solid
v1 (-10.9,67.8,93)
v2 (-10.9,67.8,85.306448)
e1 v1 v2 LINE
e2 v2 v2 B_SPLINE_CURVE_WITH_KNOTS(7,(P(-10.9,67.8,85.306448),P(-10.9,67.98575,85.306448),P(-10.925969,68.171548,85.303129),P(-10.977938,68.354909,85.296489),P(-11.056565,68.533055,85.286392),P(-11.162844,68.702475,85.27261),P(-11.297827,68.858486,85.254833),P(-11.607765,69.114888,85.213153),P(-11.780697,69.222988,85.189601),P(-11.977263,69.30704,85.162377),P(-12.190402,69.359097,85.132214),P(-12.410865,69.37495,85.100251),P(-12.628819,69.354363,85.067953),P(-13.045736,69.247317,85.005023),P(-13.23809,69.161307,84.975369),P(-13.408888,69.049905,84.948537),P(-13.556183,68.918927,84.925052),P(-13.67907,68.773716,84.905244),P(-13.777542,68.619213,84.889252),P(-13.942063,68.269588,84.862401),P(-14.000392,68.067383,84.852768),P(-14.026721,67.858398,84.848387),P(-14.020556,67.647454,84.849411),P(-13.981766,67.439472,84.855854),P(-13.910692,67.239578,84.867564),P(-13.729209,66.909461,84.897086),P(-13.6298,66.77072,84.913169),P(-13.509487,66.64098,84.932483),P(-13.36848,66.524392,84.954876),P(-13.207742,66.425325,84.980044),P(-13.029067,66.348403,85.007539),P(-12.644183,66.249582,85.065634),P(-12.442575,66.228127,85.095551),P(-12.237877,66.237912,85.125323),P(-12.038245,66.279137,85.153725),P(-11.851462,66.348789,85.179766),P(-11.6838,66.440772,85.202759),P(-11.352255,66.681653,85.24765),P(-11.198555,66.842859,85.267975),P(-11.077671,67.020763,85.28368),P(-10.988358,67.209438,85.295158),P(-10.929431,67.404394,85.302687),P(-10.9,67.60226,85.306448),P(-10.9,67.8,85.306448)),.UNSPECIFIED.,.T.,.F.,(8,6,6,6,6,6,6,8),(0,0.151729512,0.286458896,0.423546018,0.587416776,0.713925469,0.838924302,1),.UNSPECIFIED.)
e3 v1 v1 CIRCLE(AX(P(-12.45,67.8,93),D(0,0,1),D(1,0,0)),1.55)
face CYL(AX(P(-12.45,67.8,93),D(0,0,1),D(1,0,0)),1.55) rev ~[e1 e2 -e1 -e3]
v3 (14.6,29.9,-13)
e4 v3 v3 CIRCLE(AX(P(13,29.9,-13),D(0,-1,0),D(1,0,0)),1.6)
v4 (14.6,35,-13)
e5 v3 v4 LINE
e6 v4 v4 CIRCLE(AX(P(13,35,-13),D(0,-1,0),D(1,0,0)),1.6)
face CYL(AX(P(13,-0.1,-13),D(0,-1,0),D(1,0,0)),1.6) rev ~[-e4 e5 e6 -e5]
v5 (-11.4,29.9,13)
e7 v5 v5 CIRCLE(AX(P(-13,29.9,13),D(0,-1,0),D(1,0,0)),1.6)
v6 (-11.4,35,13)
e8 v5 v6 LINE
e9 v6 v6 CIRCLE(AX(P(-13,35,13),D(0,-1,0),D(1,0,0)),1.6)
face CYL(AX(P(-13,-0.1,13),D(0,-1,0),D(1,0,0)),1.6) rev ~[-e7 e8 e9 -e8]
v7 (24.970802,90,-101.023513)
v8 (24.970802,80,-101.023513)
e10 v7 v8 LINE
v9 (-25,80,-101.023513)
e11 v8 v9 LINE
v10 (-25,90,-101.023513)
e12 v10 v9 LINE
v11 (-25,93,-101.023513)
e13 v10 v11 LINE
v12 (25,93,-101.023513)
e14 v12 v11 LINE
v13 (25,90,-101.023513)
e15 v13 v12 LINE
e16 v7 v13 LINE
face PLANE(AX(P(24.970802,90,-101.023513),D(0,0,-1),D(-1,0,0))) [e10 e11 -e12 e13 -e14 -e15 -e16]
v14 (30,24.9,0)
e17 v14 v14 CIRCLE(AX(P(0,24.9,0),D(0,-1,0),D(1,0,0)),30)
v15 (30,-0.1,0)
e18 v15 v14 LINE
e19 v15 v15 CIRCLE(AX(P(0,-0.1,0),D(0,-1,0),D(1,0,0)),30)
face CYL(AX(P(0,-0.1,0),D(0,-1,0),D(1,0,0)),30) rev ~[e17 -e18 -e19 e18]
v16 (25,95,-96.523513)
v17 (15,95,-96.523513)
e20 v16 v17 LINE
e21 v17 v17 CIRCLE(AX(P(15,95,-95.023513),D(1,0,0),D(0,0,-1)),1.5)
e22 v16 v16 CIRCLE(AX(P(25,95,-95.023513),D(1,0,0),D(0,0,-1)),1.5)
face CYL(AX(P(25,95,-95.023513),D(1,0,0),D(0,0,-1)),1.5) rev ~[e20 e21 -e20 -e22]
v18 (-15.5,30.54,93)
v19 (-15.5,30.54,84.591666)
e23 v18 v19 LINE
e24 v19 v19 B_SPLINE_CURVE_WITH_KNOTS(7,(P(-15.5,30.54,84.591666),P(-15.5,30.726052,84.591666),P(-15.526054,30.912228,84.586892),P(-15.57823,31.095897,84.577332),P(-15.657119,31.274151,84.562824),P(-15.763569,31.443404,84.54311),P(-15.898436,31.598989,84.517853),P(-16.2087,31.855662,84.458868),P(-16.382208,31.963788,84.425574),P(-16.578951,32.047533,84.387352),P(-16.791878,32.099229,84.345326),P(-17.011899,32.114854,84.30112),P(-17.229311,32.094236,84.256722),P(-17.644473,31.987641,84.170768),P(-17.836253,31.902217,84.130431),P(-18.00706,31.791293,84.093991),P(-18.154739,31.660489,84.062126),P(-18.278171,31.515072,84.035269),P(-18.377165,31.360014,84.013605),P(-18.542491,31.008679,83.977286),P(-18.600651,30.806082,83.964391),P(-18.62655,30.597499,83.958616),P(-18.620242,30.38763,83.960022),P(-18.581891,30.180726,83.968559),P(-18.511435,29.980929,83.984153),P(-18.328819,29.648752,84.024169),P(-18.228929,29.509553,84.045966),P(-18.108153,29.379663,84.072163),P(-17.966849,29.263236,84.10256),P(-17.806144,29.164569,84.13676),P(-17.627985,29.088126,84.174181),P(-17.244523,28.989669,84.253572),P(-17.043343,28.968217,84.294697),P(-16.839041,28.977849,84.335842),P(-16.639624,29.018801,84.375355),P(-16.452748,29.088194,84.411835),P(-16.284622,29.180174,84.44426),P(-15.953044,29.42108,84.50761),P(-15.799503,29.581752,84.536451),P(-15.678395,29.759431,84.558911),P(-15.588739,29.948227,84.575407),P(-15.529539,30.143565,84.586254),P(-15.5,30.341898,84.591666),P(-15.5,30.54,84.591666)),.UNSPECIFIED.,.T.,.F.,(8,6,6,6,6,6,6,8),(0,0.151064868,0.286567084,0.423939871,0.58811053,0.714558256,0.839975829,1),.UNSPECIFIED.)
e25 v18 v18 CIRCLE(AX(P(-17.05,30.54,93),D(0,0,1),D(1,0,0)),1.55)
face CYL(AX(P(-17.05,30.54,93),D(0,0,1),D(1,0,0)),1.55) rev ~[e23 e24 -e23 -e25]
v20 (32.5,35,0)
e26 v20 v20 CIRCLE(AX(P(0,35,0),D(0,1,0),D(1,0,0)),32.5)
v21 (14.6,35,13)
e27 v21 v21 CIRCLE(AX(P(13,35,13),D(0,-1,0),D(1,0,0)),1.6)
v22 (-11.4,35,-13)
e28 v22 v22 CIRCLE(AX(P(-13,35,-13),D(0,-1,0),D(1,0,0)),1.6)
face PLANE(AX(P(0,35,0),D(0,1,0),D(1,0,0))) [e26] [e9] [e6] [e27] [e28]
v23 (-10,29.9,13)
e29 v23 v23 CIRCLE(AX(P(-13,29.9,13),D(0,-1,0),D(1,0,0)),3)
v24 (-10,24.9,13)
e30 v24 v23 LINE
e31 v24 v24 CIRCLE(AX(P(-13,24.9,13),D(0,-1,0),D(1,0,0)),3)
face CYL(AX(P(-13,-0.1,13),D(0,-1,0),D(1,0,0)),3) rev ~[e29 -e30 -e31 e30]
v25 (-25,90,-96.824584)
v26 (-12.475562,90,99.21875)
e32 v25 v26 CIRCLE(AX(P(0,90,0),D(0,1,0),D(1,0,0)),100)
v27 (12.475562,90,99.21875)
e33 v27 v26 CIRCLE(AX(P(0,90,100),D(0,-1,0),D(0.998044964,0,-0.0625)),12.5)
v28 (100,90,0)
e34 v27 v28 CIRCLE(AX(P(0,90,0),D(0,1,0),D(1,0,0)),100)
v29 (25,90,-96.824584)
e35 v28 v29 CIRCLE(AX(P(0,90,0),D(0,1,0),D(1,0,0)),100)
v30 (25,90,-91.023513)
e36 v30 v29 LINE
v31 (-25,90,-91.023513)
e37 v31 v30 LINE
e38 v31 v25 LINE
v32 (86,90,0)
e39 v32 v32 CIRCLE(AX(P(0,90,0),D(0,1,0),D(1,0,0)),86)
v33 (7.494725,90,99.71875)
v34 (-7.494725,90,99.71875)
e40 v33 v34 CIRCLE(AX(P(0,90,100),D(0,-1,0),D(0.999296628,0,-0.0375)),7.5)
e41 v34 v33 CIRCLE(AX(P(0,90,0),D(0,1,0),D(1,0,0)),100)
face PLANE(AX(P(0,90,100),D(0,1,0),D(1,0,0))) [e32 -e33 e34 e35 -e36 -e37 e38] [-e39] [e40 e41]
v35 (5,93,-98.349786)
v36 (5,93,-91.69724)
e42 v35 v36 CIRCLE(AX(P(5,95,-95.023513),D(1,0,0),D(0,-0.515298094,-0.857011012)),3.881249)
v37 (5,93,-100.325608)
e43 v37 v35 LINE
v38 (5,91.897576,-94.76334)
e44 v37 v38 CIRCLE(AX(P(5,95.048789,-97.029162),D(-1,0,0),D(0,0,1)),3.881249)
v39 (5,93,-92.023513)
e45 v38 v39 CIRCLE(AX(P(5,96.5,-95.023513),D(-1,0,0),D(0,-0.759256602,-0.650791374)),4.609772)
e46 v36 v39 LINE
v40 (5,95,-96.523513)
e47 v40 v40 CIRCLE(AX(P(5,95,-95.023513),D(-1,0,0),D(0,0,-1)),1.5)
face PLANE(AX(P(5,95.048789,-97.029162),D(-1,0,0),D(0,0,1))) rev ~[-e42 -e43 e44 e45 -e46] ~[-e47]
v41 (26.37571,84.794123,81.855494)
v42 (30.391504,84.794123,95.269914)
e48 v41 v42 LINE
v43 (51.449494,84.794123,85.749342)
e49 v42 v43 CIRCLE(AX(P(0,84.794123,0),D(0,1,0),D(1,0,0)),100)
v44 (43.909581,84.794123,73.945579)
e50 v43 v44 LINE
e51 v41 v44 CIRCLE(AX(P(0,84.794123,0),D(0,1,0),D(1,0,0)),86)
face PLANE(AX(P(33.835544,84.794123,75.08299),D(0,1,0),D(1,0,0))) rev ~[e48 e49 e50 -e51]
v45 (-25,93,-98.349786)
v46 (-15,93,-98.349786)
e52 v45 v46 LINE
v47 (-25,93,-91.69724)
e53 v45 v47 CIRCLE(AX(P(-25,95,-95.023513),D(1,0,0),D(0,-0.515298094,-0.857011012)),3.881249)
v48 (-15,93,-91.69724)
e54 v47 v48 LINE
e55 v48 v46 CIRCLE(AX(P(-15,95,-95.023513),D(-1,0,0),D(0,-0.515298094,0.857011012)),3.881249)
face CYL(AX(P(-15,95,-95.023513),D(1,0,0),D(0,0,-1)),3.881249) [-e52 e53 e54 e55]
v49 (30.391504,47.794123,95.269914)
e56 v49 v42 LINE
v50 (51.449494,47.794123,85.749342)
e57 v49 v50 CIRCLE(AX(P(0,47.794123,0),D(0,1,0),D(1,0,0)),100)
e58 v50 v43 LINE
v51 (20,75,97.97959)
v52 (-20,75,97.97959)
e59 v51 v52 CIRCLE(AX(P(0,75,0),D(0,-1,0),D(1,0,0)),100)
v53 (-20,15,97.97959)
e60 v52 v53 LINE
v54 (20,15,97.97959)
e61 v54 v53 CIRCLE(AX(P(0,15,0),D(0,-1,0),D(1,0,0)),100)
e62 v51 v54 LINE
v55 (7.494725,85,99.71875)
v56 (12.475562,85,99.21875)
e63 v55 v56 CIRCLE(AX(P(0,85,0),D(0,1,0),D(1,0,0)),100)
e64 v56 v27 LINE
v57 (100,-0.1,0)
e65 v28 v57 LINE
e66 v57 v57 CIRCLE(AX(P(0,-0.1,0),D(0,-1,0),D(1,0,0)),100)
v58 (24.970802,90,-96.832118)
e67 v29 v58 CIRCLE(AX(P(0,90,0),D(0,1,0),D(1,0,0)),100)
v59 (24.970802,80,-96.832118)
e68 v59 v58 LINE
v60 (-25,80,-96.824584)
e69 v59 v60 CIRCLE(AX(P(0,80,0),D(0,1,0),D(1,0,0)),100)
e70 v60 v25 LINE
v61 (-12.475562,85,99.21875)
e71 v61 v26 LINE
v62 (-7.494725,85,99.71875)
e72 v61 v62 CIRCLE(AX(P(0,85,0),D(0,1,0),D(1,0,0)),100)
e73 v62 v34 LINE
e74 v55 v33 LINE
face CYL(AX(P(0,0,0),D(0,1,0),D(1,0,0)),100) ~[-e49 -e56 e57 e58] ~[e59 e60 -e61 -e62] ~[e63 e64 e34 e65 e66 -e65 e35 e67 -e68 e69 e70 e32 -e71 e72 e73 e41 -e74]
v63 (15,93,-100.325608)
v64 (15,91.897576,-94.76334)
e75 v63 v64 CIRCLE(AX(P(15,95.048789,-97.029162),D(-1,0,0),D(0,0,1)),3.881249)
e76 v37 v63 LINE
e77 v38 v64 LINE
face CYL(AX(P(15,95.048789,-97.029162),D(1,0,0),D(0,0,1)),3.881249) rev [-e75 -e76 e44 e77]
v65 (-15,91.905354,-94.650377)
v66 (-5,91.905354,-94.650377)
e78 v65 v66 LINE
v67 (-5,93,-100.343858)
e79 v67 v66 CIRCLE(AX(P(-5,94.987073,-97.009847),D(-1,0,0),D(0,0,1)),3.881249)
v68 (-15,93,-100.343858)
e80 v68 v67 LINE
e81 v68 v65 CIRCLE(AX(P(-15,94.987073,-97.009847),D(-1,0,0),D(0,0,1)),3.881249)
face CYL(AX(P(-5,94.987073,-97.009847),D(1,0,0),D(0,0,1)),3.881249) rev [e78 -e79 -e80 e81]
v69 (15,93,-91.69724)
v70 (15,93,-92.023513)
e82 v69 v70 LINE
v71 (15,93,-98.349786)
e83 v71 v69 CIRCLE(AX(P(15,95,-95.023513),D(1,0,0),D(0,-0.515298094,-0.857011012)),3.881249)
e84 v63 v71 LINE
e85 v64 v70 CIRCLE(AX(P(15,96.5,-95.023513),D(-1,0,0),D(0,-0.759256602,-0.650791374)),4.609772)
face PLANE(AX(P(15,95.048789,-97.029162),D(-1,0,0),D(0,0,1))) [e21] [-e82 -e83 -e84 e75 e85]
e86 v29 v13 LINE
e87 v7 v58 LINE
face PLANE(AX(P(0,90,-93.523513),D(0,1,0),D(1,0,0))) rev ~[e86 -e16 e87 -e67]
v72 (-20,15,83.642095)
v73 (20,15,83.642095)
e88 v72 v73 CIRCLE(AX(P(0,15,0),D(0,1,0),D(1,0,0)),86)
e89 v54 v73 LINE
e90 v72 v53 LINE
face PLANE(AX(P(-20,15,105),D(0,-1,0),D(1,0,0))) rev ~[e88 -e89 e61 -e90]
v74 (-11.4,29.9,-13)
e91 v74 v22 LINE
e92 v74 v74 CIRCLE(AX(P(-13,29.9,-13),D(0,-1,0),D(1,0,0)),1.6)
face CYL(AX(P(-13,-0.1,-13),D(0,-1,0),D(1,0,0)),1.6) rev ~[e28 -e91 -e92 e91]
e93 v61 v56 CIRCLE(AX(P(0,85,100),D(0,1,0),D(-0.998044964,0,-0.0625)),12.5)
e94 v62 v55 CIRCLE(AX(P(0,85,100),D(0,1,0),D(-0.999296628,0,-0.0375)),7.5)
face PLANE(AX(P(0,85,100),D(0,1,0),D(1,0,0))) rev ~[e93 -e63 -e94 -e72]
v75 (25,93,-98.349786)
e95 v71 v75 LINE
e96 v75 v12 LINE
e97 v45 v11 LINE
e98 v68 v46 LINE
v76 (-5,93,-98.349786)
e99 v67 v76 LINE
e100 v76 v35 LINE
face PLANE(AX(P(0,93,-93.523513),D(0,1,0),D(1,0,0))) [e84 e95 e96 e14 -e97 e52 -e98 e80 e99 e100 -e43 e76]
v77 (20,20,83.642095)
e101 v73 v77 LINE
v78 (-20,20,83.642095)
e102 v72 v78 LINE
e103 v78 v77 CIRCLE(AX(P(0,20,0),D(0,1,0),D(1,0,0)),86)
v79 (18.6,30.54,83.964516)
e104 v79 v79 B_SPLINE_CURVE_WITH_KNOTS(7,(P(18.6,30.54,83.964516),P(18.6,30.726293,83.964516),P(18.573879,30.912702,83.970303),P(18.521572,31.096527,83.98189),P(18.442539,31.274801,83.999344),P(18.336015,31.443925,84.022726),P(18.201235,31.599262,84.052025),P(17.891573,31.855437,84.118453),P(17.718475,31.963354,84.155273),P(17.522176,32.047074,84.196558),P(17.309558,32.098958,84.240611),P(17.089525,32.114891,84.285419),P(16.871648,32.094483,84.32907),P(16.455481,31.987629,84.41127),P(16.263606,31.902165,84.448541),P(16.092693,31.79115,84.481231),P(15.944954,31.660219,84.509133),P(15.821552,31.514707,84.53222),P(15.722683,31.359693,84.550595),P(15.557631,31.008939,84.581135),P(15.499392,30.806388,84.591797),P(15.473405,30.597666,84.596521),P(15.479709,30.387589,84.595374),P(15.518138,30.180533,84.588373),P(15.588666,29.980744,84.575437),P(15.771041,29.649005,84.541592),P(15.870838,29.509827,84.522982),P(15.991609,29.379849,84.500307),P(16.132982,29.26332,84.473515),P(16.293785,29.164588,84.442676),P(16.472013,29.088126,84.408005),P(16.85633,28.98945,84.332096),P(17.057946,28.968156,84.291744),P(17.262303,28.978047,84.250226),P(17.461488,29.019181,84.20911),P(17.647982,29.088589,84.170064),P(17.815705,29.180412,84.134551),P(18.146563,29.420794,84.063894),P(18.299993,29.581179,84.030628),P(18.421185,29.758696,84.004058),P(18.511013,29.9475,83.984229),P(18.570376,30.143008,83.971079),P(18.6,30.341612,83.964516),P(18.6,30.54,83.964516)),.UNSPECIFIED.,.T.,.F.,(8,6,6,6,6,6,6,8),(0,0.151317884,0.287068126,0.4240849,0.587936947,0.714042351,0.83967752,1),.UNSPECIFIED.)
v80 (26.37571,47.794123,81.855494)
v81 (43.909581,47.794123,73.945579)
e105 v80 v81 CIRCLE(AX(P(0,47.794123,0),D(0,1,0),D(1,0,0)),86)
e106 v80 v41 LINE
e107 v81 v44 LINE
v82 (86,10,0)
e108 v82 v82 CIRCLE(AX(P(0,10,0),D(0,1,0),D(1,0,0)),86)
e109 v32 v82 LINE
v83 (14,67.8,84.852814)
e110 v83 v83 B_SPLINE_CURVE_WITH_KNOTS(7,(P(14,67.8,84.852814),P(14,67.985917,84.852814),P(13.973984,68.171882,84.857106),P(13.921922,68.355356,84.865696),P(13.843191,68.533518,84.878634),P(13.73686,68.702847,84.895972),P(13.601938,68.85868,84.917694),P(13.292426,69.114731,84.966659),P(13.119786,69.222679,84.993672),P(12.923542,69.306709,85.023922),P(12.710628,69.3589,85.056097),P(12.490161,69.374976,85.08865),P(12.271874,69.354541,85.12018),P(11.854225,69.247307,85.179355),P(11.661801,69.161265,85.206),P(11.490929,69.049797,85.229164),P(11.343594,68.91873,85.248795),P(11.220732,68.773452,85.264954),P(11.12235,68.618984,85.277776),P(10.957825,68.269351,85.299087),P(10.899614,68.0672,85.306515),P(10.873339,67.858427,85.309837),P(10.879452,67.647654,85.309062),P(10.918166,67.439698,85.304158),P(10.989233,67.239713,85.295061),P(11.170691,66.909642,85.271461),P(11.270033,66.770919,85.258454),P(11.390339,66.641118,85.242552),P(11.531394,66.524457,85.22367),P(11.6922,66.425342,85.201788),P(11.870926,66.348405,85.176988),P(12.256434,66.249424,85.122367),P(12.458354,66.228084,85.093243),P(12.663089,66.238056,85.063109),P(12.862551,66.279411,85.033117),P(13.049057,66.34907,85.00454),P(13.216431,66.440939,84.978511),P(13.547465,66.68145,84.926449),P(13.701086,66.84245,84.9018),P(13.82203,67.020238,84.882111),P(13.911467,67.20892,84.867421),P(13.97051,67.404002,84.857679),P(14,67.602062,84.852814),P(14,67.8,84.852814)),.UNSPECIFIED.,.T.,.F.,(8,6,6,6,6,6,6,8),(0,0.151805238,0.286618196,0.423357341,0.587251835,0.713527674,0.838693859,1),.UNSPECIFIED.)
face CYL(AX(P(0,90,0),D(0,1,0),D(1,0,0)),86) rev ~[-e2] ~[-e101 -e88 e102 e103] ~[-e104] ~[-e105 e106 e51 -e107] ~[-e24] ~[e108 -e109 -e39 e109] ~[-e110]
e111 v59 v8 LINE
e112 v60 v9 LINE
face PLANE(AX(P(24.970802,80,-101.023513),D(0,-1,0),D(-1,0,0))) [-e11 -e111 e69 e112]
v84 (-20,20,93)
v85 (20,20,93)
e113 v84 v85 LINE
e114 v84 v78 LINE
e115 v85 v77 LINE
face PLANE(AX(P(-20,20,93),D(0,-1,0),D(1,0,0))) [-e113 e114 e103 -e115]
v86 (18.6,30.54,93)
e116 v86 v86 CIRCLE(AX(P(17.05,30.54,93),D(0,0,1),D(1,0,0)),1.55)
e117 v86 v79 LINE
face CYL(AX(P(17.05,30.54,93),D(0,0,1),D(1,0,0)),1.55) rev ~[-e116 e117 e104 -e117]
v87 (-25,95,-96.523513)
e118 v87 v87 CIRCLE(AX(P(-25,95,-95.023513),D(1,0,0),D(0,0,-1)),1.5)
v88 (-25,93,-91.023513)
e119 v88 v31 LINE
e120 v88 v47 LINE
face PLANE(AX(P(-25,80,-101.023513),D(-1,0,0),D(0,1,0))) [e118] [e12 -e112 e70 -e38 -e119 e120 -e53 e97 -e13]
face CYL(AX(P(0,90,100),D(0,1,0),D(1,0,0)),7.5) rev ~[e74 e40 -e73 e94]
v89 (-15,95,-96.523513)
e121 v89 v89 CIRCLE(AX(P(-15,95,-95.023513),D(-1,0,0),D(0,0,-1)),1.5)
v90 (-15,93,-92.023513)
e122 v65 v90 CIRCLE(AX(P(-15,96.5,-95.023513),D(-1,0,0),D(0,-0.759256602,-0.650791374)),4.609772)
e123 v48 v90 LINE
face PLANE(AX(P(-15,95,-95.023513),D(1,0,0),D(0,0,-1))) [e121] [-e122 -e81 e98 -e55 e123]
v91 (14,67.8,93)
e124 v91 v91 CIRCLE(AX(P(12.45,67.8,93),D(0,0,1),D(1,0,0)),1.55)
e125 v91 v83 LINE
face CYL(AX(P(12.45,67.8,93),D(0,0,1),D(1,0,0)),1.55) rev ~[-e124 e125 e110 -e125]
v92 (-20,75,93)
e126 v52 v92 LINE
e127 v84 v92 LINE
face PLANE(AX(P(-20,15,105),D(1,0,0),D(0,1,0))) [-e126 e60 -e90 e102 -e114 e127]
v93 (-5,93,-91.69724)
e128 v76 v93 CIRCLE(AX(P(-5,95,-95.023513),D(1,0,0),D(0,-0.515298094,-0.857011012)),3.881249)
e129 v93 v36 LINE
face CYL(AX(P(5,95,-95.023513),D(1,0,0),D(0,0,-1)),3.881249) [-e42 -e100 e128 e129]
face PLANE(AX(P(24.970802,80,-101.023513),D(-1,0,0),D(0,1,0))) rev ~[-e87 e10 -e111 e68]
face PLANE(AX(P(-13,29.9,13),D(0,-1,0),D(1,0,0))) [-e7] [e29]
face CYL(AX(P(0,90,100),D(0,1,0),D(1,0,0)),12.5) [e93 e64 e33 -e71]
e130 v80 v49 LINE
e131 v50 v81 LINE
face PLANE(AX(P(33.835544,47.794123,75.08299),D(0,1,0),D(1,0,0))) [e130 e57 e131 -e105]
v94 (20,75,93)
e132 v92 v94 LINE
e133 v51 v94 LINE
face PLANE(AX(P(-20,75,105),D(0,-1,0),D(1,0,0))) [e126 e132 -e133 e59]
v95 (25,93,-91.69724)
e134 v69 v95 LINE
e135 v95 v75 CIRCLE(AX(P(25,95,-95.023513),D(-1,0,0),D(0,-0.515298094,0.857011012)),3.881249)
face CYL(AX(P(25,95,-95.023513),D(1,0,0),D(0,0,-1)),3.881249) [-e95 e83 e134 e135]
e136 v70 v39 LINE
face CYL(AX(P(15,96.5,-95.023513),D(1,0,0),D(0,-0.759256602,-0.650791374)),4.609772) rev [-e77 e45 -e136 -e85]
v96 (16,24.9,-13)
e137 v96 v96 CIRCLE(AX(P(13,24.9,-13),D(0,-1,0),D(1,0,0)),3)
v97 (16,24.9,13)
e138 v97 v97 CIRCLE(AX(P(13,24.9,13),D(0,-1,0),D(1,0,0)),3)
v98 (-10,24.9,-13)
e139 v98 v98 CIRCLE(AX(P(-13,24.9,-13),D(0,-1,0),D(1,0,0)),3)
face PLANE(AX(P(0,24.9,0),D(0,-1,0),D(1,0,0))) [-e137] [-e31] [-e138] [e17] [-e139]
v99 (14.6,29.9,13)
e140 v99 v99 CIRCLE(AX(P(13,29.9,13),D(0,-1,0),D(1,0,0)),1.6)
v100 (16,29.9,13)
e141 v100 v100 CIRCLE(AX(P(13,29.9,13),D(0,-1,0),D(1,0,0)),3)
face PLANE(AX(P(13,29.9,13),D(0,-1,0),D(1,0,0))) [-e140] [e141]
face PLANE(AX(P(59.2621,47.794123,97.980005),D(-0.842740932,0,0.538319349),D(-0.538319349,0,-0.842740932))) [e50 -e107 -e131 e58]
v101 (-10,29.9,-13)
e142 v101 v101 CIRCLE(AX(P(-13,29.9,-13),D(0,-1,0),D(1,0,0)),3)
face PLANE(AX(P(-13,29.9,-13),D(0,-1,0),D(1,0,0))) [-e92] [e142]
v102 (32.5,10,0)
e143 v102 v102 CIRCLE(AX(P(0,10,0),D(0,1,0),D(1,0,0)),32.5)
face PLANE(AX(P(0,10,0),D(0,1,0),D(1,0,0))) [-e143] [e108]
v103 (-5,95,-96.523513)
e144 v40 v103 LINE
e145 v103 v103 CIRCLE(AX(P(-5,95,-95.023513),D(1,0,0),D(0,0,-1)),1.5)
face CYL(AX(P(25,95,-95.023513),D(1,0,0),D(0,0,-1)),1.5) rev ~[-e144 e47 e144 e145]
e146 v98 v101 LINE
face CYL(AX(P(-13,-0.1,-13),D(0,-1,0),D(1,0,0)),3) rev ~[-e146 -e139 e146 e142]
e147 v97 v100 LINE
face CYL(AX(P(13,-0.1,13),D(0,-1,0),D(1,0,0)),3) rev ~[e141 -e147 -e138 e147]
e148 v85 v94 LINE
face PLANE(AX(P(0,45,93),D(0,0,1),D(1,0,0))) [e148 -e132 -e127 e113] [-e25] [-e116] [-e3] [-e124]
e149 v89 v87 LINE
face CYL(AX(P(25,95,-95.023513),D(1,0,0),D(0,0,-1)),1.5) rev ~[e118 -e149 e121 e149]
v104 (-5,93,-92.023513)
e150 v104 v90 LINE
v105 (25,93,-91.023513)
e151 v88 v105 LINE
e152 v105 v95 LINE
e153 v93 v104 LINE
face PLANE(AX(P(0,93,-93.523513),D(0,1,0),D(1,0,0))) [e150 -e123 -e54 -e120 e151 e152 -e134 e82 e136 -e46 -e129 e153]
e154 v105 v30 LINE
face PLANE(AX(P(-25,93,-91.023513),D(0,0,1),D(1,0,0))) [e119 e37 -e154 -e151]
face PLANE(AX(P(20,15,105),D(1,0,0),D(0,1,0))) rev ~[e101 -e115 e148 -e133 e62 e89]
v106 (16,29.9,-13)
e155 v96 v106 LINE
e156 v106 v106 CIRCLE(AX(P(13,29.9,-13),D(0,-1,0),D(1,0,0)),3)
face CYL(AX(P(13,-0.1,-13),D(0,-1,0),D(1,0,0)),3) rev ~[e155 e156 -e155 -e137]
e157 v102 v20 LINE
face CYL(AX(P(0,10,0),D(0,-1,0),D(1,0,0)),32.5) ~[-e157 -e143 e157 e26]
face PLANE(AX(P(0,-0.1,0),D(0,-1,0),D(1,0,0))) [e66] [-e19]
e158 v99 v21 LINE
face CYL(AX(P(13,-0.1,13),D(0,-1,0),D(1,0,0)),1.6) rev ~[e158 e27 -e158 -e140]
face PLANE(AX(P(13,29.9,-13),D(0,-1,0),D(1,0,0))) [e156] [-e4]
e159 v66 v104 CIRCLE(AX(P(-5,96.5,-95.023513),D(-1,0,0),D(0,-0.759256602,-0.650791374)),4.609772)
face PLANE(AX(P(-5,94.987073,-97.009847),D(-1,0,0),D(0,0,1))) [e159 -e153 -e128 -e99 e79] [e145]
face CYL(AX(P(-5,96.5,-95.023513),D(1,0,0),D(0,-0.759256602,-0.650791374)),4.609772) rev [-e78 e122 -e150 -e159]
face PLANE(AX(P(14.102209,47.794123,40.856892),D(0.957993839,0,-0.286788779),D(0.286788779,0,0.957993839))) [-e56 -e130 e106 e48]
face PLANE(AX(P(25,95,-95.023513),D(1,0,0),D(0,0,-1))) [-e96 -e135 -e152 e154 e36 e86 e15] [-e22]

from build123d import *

# Parameters (mm, degrees)
SKETCH1_R               = 100
BOSS_EXTRUDE3_DEPTH     = 90
SKETCH4_W               = 40
SKETCH4_H               = 60
CUT_EXTRUDE2_DEPTH      = 26
CUT_EXTRUDE2_DEPTH_BACK = 12
SKETCH12_R              = 100
BOSS_EXTRUDE4_DEPTH     = 0.1
SKETCH13_R              = 86
CUT_EXTRUDE8_DEPTH      = 80
SKETCH18_R              = 32.5
BOSS_EXTRUDE5_DEPTH     = 25
SKETCH16_R              = 1.6
CUT_EXTRUDE11_DEPTH     = 91.1
SKETCH17_R              = 3
CUT_EXTRUDE12_DEPTH     = 30
SKETCH19_R              = 30
CUT_EXTRUDE13_DEPTH     = 25
SKETCH20_W              = 40
SKETCH20_H              = 5
CUT_EXTRUDE14_DEPTH     = 25
SKETCH21_R              = 1.55
CUT_EXTRUDE15_DEPTH     = 25
SKETCH23_W              = 50
SKETCH23_H              = 15
BOSS_EXTRUDE6_DEPTH     = 3
SKETCH24_W              = 50
SKETCH24_H              = 6
BOSS_EXTRUDE7_DEPTH     = 4
SKETCH25_R              = 1.5
CUT_EXTRUDE17_DEPTH     = 126
BOSS_EXTRUDE8_DEPTH     = 50
SKETCH29_W              = 10
SKETCH29_H              = 11
CUT_EXTRUDE20_DEPTH     = 10
CUT_EXTRUDE21_START     = -10
CUT_EXTRUDE21_DEPTH     = 10
LPATTERN1_COUNT         = 2
LPATTERN1_PITCH         = 20
SKETCH31_R              = 3.881248585
SKETCH31_R_2            = 1.5
BOSS_EXTRUDE9_DEPTH     = 10
SKETCH33_R              = 3.881248585
SKETCH33_R_2            = 1.5
BOSS_EXTRUDE11_DEPTH    = 10
SKETCH34_R              = 3.881248585
SKETCH34_R_2            = 1.5
BOSS_EXTRUDE12_DEPTH    = 10
SKETCH36_R              = 3.881248585
SKETCH36_R_2            = 1.5
CUT_EXTRUDE22_DEPTH     = 10
SKETCH37_R              = 3.881248585
SKETCH37_R_2            = 1.5
CUT_EXTRUDE23_DEPTH     = 10
SKETCH38_W              = 50
SKETCH38_H              = 5
CUT_EXTRUDE24_DEPTH     = 3
SKETCH39_W              = 49.970802014
SKETCH39_H              = 1.005140431
BOSS_EXTRUDE13_DEPTH    = 10
BOSS_EXTRUDE14_REACH    = 203.024
SKETCH40_W              = 49.970802014
SKETCH40_H              = 10
SKETCH41_R              = 12.5
SKETCH41_R_2            = 7.5
BOSS_EXTRUDE15_DEPTH    = 5
CUT_EXTRUDE25_DEPTH     = 37


with BuildPart() as part:
    # Sketch1 → Boss-Extrude3 (new body)
    with BuildSketch(Plane(origin=(0, 0, 0), x_dir=(1, 0, 0), z_dir=(0, 1, 0))):
        Circle(SKETCH1_R)
    extrude(amount=BOSS_EXTRUDE3_DEPTH)

    # Sketch4 → Cut-Extrude2 (cut, two sides)
    with BuildSketch(Plane.XY.offset(105)) as cut_extrude2_sk:
        with Locations((0, 45)):
            Rectangle(SKETCH4_W, SKETCH4_H)
    extrude(amount=CUT_EXTRUDE2_DEPTH, mode=Mode.SUBTRACT)
    extrude(cut_extrude2_sk.sketch, amount=-CUT_EXTRUDE2_DEPTH_BACK, mode=Mode.SUBTRACT)

    # Sketch12 → Boss-Extrude4 (add)
    with BuildSketch(Plane.XZ):
        Circle(SKETCH12_R)
    extrude(amount=BOSS_EXTRUDE4_DEPTH)

    # Sketch13 → Cut-Extrude8 (cut)
    with BuildSketch(Plane(origin=(0, 90, 0), x_dir=(1, 0, 0), z_dir=(0, 1, 0))):
        Circle(SKETCH13_R)
    extrude(amount=-CUT_EXTRUDE8_DEPTH, mode=Mode.SUBTRACT)

    # Sketch18 → Boss-Extrude5 (add)
    with BuildSketch(Plane(origin=(0, 10, 0), x_dir=(1, 0, 0), z_dir=(0, 1, 0))):
        Circle(SKETCH18_R)
    extrude(amount=BOSS_EXTRUDE5_DEPTH)

    # Sketch16 → Cut-Extrude11 (cut, through all)
    with BuildSketch(Plane.XZ.offset(0.1)):
        with Locations((-13, 13)):
            Circle(SKETCH16_R)
        with Locations((13, 13)):
            Circle(SKETCH16_R)
        with Locations((13, -13)):
            Circle(SKETCH16_R)
        with Locations((-13, -13)):
            Circle(SKETCH16_R)
    extrude(amount=-CUT_EXTRUDE11_DEPTH, mode=Mode.SUBTRACT)

    # Sketch17 → Cut-Extrude12 (cut)
    with BuildSketch(Plane.XZ.offset(0.1)):
        with Locations((-13, 13)):
            Circle(SKETCH17_R)
        with Locations((13, 13)):
            Circle(SKETCH17_R)
        with Locations((-13, -13)):
            Circle(SKETCH17_R)
        with Locations((13, -13)):
            Circle(SKETCH17_R)
    extrude(amount=-CUT_EXTRUDE12_DEPTH, mode=Mode.SUBTRACT)

    # Sketch19 → Cut-Extrude13 (cut)
    with BuildSketch(Plane.XZ.offset(0.1)):
        Circle(SKETCH19_R)
    extrude(amount=-CUT_EXTRUDE13_DEPTH, mode=Mode.SUBTRACT)

    # Sketch20 → Cut-Extrude14 (cut)
    with BuildSketch(Plane.XY.offset(93)):
        with Locations((0, 17.5)):
            Rectangle(SKETCH20_W, SKETCH20_H)
    extrude(amount=-CUT_EXTRUDE14_DEPTH, mode=Mode.SUBTRACT)

    # Sketch21 → Cut-Extrude15 (cut)
    with BuildSketch(Plane.XY.offset(93)):
        with Locations((12.45, 67.8)):
            Circle(SKETCH21_R)
        with Locations((-12.45, 67.8)):
            Circle(SKETCH21_R)
        with Locations((-17.05, 30.54)):
            Circle(SKETCH21_R)
        with Locations((17.05, 30.54)):
            Circle(SKETCH21_R)
    extrude(amount=-CUT_EXTRUDE15_DEPTH, mode=Mode.SUBTRACT)

    # Sketch23 → Boss-Extrude6 (add)
    with BuildSketch(Plane(origin=(0, 90, 0), x_dir=(1, 0, 0), z_dir=(0, 1, 0))):
        with Locations((0, 93.523512725)):
            Rectangle(SKETCH23_W, SKETCH23_H)
    extrude(amount=BOSS_EXTRUDE6_DEPTH)

    # Sketch24 → Boss-Extrude7 (add)
    with BuildSketch(Plane(origin=(0, 93, 0), x_dir=(1, 0, 0), z_dir=(0, 1, 0))):
        with Locations((0, 95.023512725)):
            Rectangle(SKETCH24_W, SKETCH24_H)
    extrude(amount=BOSS_EXTRUDE7_DEPTH)

    # Sketch25 → Cut-Extrude17 (cut, through all)
    with BuildSketch(Plane(origin=(25, 0, 0), x_dir=(0, 0, -1), z_dir=(1, 0, 0))):
        with Locations((95.023512725, 95)):
            Circle(SKETCH25_R)
    extrude(amount=-CUT_EXTRUDE17_DEPTH, mode=Mode.SUBTRACT)

    # Sketch27 → Boss-Extrude8 (add)
    with BuildSketch(Plane(origin=(25, 0, 0), x_dir=(0, 0, -1), z_dir=(1, 0, 0))):
        with BuildLine():
            Line((92.023512725, 97), (98.023512725, 97))
            ThreePointArc((98.023512725, 97), (95.023512725, 98.854101966), (92.023512725, 97))
        make_face()
    extrude(amount=-BOSS_EXTRUDE8_DEPTH)

    # Sketch29 → Cut-Extrude20 (cut, through all)
    with BuildSketch(Plane.XY.offset(-92.023512725)):
        with Locations((-10, 98.5)):
            Rectangle(SKETCH29_W, SKETCH29_H)
        with Locations((10, 98.5)):
            Rectangle(SKETCH29_W, SKETCH29_H)
    extrude(amount=-CUT_EXTRUDE20_DEPTH, mode=Mode.SUBTRACT)

    # Sketch30 → Cut-Extrude21 (cut)
    with BuildSketch(Plane(origin=(25, 0, 0), x_dir=(0, 0, -1), z_dir=(1, 0, 0)).offset(CUT_EXTRUDE21_START)):
        with BuildLine():
            Line((92.023512725, 93), (98.023512725, 93))
            ThreePointArc((98.023512725, 93), (95.023512725, 91.890227771), (92.023512725, 93))
        make_face()
    cut_extrude21 = extrude(amount=-CUT_EXTRUDE21_DEPTH, mode=Mode.SUBTRACT)

    # LPattern1: Cut-Extrude21 ×2
    with Locations(*[(-i * LPATTERN1_PITCH, 0, 0) for i in range(1, LPATTERN1_COUNT)]):
        add(cut_extrude21, mode=Mode.SUBTRACT)

    # Sketch31 → Boss-Extrude9 (add)
    with BuildSketch(Plane(origin=(25, 0, 0), x_dir=(0, 0, -1), z_dir=(1, 0, 0))):
        with Locations((95.023512725, 95)):
            Circle(SKETCH31_R)
        with Locations((95.023512725, 95)):
            Circle(SKETCH31_R_2, mode=Mode.SUBTRACT)
    extrude(amount=-BOSS_EXTRUDE9_DEPTH)

    # Sketch33 → Boss-Extrude11 (add)
    with BuildSketch(Plane(origin=(5, 0, 0), x_dir=(0, 0, -1), z_dir=(1, 0, 0))):
        with Locations((95.023512725, 95)):
            Circle(SKETCH33_R)
        with Locations((95.023512725, 95)):
            Circle(SKETCH33_R_2, mode=Mode.SUBTRACT)
    extrude(amount=-BOSS_EXTRUDE11_DEPTH)

    # Sketch34 → Boss-Extrude12 (add)
    with BuildSketch(Plane(origin=(-15, 0, 0), x_dir=(0, 0, -1), z_dir=(1, 0, 0))):
        with Locations((95.023512725, 95)):
            Circle(SKETCH34_R)
        with Locations((95.023512725, 95)):
            Circle(SKETCH34_R_2, mode=Mode.SUBTRACT)
    extrude(amount=-BOSS_EXTRUDE12_DEPTH)

    # Sketch36 → Cut-Extrude22 (cut)
    with BuildSketch(Plane.ZY.offset(-15)):
        with Locations((-97.029162036, 95.048788547)):
            Circle(SKETCH36_R)
        with Locations((-97.029162036, 95.048788547)):
            Circle(SKETCH36_R_2, mode=Mode.SUBTRACT)
    extrude(amount=CUT_EXTRUDE22_DEPTH, mode=Mode.SUBTRACT)

    # Sketch37 → Cut-Extrude23 (cut)
    with BuildSketch(Plane.ZY.offset(5)):
        with Locations((-97.009847138, 94.987072973)):
            Circle(SKETCH37_R)
        with Locations((-97.009847138, 94.987072973)):
            Circle(SKETCH37_R_2, mode=Mode.SUBTRACT)
    extrude(amount=CUT_EXTRUDE23_DEPTH, mode=Mode.SUBTRACT)

    # Sketch38 → Cut-Extrude24 (cut)
    with BuildSketch(Plane(origin=(0, 93, 0), x_dir=(1, 0, 0), z_dir=(0, 1, 0))):
        with Locations((0, 88.523512725)):
            Rectangle(SKETCH38_W, SKETCH38_H)
    extrude(amount=-CUT_EXTRUDE24_DEPTH, mode=Mode.SUBTRACT)

    # Sketch39 → Boss-Extrude13 (add)
    with BuildSketch(Plane(origin=(0, 90, 0), x_dir=(-1, 0, 0), z_dir=(0, -1, 0))):
        with Locations((0.014598993, 100.52094251)):
            Rectangle(SKETCH39_W, SKETCH39_H)
    extrude(amount=BOSS_EXTRUDE13_DEPTH)

    # Sketch40 → Boss-Extrude14 (add, up to next)
    with BuildSketch(Plane(origin=(0, 0, -101.023512725), x_dir=(-1, 0, 0), z_dir=(0, 0, -1)), mode=Mode.PRIVATE) as boss_extrude14_sk1:
        with Locations((0.014598993, 85)):
            Rectangle(SKETCH40_W, SKETCH40_H)
    boss_extrude14_tool1 = extrude(boss_extrude14_sk1.sketch, amount=-BOSS_EXTRUDE14_REACH, mode=Mode.PRIVATE) - part.part
    add(boss_extrude14_tool1.solids().sort_by_distance((-0.014599, 85, -101.023513))[0])

    # Sketch41 → Boss-Extrude15 (add)
    with BuildSketch(Plane(origin=(0, 90, 0), x_dir=(1, 0, 0), z_dir=(0, 1, 0))):
        with Locations((0, -100)):
            Circle(SKETCH41_R)
        with Locations((0, -100)):
            Circle(SKETCH41_R_2, mode=Mode.SUBTRACT)
    extrude(amount=-BOSS_EXTRUDE15_DEPTH)

    # Sketch42 → Cut-Extrude25 (cut)
    with BuildSketch(Plane(origin=(22.204096953, 47.794122581, -296.404157649), x_dir=(1, 0, 0), z_dir=(0, 1, 0))):
        Polygon((-8.101888311, -337.261049447), (12.404969277, -405.762485644), (37.058002756, -394.3841625), (-1.388931435, -334.195344764), align=None)
    extrude(amount=CUT_EXTRUDE25_DEPTH, mode=Mode.SUBTRACT)


solid = part.part
